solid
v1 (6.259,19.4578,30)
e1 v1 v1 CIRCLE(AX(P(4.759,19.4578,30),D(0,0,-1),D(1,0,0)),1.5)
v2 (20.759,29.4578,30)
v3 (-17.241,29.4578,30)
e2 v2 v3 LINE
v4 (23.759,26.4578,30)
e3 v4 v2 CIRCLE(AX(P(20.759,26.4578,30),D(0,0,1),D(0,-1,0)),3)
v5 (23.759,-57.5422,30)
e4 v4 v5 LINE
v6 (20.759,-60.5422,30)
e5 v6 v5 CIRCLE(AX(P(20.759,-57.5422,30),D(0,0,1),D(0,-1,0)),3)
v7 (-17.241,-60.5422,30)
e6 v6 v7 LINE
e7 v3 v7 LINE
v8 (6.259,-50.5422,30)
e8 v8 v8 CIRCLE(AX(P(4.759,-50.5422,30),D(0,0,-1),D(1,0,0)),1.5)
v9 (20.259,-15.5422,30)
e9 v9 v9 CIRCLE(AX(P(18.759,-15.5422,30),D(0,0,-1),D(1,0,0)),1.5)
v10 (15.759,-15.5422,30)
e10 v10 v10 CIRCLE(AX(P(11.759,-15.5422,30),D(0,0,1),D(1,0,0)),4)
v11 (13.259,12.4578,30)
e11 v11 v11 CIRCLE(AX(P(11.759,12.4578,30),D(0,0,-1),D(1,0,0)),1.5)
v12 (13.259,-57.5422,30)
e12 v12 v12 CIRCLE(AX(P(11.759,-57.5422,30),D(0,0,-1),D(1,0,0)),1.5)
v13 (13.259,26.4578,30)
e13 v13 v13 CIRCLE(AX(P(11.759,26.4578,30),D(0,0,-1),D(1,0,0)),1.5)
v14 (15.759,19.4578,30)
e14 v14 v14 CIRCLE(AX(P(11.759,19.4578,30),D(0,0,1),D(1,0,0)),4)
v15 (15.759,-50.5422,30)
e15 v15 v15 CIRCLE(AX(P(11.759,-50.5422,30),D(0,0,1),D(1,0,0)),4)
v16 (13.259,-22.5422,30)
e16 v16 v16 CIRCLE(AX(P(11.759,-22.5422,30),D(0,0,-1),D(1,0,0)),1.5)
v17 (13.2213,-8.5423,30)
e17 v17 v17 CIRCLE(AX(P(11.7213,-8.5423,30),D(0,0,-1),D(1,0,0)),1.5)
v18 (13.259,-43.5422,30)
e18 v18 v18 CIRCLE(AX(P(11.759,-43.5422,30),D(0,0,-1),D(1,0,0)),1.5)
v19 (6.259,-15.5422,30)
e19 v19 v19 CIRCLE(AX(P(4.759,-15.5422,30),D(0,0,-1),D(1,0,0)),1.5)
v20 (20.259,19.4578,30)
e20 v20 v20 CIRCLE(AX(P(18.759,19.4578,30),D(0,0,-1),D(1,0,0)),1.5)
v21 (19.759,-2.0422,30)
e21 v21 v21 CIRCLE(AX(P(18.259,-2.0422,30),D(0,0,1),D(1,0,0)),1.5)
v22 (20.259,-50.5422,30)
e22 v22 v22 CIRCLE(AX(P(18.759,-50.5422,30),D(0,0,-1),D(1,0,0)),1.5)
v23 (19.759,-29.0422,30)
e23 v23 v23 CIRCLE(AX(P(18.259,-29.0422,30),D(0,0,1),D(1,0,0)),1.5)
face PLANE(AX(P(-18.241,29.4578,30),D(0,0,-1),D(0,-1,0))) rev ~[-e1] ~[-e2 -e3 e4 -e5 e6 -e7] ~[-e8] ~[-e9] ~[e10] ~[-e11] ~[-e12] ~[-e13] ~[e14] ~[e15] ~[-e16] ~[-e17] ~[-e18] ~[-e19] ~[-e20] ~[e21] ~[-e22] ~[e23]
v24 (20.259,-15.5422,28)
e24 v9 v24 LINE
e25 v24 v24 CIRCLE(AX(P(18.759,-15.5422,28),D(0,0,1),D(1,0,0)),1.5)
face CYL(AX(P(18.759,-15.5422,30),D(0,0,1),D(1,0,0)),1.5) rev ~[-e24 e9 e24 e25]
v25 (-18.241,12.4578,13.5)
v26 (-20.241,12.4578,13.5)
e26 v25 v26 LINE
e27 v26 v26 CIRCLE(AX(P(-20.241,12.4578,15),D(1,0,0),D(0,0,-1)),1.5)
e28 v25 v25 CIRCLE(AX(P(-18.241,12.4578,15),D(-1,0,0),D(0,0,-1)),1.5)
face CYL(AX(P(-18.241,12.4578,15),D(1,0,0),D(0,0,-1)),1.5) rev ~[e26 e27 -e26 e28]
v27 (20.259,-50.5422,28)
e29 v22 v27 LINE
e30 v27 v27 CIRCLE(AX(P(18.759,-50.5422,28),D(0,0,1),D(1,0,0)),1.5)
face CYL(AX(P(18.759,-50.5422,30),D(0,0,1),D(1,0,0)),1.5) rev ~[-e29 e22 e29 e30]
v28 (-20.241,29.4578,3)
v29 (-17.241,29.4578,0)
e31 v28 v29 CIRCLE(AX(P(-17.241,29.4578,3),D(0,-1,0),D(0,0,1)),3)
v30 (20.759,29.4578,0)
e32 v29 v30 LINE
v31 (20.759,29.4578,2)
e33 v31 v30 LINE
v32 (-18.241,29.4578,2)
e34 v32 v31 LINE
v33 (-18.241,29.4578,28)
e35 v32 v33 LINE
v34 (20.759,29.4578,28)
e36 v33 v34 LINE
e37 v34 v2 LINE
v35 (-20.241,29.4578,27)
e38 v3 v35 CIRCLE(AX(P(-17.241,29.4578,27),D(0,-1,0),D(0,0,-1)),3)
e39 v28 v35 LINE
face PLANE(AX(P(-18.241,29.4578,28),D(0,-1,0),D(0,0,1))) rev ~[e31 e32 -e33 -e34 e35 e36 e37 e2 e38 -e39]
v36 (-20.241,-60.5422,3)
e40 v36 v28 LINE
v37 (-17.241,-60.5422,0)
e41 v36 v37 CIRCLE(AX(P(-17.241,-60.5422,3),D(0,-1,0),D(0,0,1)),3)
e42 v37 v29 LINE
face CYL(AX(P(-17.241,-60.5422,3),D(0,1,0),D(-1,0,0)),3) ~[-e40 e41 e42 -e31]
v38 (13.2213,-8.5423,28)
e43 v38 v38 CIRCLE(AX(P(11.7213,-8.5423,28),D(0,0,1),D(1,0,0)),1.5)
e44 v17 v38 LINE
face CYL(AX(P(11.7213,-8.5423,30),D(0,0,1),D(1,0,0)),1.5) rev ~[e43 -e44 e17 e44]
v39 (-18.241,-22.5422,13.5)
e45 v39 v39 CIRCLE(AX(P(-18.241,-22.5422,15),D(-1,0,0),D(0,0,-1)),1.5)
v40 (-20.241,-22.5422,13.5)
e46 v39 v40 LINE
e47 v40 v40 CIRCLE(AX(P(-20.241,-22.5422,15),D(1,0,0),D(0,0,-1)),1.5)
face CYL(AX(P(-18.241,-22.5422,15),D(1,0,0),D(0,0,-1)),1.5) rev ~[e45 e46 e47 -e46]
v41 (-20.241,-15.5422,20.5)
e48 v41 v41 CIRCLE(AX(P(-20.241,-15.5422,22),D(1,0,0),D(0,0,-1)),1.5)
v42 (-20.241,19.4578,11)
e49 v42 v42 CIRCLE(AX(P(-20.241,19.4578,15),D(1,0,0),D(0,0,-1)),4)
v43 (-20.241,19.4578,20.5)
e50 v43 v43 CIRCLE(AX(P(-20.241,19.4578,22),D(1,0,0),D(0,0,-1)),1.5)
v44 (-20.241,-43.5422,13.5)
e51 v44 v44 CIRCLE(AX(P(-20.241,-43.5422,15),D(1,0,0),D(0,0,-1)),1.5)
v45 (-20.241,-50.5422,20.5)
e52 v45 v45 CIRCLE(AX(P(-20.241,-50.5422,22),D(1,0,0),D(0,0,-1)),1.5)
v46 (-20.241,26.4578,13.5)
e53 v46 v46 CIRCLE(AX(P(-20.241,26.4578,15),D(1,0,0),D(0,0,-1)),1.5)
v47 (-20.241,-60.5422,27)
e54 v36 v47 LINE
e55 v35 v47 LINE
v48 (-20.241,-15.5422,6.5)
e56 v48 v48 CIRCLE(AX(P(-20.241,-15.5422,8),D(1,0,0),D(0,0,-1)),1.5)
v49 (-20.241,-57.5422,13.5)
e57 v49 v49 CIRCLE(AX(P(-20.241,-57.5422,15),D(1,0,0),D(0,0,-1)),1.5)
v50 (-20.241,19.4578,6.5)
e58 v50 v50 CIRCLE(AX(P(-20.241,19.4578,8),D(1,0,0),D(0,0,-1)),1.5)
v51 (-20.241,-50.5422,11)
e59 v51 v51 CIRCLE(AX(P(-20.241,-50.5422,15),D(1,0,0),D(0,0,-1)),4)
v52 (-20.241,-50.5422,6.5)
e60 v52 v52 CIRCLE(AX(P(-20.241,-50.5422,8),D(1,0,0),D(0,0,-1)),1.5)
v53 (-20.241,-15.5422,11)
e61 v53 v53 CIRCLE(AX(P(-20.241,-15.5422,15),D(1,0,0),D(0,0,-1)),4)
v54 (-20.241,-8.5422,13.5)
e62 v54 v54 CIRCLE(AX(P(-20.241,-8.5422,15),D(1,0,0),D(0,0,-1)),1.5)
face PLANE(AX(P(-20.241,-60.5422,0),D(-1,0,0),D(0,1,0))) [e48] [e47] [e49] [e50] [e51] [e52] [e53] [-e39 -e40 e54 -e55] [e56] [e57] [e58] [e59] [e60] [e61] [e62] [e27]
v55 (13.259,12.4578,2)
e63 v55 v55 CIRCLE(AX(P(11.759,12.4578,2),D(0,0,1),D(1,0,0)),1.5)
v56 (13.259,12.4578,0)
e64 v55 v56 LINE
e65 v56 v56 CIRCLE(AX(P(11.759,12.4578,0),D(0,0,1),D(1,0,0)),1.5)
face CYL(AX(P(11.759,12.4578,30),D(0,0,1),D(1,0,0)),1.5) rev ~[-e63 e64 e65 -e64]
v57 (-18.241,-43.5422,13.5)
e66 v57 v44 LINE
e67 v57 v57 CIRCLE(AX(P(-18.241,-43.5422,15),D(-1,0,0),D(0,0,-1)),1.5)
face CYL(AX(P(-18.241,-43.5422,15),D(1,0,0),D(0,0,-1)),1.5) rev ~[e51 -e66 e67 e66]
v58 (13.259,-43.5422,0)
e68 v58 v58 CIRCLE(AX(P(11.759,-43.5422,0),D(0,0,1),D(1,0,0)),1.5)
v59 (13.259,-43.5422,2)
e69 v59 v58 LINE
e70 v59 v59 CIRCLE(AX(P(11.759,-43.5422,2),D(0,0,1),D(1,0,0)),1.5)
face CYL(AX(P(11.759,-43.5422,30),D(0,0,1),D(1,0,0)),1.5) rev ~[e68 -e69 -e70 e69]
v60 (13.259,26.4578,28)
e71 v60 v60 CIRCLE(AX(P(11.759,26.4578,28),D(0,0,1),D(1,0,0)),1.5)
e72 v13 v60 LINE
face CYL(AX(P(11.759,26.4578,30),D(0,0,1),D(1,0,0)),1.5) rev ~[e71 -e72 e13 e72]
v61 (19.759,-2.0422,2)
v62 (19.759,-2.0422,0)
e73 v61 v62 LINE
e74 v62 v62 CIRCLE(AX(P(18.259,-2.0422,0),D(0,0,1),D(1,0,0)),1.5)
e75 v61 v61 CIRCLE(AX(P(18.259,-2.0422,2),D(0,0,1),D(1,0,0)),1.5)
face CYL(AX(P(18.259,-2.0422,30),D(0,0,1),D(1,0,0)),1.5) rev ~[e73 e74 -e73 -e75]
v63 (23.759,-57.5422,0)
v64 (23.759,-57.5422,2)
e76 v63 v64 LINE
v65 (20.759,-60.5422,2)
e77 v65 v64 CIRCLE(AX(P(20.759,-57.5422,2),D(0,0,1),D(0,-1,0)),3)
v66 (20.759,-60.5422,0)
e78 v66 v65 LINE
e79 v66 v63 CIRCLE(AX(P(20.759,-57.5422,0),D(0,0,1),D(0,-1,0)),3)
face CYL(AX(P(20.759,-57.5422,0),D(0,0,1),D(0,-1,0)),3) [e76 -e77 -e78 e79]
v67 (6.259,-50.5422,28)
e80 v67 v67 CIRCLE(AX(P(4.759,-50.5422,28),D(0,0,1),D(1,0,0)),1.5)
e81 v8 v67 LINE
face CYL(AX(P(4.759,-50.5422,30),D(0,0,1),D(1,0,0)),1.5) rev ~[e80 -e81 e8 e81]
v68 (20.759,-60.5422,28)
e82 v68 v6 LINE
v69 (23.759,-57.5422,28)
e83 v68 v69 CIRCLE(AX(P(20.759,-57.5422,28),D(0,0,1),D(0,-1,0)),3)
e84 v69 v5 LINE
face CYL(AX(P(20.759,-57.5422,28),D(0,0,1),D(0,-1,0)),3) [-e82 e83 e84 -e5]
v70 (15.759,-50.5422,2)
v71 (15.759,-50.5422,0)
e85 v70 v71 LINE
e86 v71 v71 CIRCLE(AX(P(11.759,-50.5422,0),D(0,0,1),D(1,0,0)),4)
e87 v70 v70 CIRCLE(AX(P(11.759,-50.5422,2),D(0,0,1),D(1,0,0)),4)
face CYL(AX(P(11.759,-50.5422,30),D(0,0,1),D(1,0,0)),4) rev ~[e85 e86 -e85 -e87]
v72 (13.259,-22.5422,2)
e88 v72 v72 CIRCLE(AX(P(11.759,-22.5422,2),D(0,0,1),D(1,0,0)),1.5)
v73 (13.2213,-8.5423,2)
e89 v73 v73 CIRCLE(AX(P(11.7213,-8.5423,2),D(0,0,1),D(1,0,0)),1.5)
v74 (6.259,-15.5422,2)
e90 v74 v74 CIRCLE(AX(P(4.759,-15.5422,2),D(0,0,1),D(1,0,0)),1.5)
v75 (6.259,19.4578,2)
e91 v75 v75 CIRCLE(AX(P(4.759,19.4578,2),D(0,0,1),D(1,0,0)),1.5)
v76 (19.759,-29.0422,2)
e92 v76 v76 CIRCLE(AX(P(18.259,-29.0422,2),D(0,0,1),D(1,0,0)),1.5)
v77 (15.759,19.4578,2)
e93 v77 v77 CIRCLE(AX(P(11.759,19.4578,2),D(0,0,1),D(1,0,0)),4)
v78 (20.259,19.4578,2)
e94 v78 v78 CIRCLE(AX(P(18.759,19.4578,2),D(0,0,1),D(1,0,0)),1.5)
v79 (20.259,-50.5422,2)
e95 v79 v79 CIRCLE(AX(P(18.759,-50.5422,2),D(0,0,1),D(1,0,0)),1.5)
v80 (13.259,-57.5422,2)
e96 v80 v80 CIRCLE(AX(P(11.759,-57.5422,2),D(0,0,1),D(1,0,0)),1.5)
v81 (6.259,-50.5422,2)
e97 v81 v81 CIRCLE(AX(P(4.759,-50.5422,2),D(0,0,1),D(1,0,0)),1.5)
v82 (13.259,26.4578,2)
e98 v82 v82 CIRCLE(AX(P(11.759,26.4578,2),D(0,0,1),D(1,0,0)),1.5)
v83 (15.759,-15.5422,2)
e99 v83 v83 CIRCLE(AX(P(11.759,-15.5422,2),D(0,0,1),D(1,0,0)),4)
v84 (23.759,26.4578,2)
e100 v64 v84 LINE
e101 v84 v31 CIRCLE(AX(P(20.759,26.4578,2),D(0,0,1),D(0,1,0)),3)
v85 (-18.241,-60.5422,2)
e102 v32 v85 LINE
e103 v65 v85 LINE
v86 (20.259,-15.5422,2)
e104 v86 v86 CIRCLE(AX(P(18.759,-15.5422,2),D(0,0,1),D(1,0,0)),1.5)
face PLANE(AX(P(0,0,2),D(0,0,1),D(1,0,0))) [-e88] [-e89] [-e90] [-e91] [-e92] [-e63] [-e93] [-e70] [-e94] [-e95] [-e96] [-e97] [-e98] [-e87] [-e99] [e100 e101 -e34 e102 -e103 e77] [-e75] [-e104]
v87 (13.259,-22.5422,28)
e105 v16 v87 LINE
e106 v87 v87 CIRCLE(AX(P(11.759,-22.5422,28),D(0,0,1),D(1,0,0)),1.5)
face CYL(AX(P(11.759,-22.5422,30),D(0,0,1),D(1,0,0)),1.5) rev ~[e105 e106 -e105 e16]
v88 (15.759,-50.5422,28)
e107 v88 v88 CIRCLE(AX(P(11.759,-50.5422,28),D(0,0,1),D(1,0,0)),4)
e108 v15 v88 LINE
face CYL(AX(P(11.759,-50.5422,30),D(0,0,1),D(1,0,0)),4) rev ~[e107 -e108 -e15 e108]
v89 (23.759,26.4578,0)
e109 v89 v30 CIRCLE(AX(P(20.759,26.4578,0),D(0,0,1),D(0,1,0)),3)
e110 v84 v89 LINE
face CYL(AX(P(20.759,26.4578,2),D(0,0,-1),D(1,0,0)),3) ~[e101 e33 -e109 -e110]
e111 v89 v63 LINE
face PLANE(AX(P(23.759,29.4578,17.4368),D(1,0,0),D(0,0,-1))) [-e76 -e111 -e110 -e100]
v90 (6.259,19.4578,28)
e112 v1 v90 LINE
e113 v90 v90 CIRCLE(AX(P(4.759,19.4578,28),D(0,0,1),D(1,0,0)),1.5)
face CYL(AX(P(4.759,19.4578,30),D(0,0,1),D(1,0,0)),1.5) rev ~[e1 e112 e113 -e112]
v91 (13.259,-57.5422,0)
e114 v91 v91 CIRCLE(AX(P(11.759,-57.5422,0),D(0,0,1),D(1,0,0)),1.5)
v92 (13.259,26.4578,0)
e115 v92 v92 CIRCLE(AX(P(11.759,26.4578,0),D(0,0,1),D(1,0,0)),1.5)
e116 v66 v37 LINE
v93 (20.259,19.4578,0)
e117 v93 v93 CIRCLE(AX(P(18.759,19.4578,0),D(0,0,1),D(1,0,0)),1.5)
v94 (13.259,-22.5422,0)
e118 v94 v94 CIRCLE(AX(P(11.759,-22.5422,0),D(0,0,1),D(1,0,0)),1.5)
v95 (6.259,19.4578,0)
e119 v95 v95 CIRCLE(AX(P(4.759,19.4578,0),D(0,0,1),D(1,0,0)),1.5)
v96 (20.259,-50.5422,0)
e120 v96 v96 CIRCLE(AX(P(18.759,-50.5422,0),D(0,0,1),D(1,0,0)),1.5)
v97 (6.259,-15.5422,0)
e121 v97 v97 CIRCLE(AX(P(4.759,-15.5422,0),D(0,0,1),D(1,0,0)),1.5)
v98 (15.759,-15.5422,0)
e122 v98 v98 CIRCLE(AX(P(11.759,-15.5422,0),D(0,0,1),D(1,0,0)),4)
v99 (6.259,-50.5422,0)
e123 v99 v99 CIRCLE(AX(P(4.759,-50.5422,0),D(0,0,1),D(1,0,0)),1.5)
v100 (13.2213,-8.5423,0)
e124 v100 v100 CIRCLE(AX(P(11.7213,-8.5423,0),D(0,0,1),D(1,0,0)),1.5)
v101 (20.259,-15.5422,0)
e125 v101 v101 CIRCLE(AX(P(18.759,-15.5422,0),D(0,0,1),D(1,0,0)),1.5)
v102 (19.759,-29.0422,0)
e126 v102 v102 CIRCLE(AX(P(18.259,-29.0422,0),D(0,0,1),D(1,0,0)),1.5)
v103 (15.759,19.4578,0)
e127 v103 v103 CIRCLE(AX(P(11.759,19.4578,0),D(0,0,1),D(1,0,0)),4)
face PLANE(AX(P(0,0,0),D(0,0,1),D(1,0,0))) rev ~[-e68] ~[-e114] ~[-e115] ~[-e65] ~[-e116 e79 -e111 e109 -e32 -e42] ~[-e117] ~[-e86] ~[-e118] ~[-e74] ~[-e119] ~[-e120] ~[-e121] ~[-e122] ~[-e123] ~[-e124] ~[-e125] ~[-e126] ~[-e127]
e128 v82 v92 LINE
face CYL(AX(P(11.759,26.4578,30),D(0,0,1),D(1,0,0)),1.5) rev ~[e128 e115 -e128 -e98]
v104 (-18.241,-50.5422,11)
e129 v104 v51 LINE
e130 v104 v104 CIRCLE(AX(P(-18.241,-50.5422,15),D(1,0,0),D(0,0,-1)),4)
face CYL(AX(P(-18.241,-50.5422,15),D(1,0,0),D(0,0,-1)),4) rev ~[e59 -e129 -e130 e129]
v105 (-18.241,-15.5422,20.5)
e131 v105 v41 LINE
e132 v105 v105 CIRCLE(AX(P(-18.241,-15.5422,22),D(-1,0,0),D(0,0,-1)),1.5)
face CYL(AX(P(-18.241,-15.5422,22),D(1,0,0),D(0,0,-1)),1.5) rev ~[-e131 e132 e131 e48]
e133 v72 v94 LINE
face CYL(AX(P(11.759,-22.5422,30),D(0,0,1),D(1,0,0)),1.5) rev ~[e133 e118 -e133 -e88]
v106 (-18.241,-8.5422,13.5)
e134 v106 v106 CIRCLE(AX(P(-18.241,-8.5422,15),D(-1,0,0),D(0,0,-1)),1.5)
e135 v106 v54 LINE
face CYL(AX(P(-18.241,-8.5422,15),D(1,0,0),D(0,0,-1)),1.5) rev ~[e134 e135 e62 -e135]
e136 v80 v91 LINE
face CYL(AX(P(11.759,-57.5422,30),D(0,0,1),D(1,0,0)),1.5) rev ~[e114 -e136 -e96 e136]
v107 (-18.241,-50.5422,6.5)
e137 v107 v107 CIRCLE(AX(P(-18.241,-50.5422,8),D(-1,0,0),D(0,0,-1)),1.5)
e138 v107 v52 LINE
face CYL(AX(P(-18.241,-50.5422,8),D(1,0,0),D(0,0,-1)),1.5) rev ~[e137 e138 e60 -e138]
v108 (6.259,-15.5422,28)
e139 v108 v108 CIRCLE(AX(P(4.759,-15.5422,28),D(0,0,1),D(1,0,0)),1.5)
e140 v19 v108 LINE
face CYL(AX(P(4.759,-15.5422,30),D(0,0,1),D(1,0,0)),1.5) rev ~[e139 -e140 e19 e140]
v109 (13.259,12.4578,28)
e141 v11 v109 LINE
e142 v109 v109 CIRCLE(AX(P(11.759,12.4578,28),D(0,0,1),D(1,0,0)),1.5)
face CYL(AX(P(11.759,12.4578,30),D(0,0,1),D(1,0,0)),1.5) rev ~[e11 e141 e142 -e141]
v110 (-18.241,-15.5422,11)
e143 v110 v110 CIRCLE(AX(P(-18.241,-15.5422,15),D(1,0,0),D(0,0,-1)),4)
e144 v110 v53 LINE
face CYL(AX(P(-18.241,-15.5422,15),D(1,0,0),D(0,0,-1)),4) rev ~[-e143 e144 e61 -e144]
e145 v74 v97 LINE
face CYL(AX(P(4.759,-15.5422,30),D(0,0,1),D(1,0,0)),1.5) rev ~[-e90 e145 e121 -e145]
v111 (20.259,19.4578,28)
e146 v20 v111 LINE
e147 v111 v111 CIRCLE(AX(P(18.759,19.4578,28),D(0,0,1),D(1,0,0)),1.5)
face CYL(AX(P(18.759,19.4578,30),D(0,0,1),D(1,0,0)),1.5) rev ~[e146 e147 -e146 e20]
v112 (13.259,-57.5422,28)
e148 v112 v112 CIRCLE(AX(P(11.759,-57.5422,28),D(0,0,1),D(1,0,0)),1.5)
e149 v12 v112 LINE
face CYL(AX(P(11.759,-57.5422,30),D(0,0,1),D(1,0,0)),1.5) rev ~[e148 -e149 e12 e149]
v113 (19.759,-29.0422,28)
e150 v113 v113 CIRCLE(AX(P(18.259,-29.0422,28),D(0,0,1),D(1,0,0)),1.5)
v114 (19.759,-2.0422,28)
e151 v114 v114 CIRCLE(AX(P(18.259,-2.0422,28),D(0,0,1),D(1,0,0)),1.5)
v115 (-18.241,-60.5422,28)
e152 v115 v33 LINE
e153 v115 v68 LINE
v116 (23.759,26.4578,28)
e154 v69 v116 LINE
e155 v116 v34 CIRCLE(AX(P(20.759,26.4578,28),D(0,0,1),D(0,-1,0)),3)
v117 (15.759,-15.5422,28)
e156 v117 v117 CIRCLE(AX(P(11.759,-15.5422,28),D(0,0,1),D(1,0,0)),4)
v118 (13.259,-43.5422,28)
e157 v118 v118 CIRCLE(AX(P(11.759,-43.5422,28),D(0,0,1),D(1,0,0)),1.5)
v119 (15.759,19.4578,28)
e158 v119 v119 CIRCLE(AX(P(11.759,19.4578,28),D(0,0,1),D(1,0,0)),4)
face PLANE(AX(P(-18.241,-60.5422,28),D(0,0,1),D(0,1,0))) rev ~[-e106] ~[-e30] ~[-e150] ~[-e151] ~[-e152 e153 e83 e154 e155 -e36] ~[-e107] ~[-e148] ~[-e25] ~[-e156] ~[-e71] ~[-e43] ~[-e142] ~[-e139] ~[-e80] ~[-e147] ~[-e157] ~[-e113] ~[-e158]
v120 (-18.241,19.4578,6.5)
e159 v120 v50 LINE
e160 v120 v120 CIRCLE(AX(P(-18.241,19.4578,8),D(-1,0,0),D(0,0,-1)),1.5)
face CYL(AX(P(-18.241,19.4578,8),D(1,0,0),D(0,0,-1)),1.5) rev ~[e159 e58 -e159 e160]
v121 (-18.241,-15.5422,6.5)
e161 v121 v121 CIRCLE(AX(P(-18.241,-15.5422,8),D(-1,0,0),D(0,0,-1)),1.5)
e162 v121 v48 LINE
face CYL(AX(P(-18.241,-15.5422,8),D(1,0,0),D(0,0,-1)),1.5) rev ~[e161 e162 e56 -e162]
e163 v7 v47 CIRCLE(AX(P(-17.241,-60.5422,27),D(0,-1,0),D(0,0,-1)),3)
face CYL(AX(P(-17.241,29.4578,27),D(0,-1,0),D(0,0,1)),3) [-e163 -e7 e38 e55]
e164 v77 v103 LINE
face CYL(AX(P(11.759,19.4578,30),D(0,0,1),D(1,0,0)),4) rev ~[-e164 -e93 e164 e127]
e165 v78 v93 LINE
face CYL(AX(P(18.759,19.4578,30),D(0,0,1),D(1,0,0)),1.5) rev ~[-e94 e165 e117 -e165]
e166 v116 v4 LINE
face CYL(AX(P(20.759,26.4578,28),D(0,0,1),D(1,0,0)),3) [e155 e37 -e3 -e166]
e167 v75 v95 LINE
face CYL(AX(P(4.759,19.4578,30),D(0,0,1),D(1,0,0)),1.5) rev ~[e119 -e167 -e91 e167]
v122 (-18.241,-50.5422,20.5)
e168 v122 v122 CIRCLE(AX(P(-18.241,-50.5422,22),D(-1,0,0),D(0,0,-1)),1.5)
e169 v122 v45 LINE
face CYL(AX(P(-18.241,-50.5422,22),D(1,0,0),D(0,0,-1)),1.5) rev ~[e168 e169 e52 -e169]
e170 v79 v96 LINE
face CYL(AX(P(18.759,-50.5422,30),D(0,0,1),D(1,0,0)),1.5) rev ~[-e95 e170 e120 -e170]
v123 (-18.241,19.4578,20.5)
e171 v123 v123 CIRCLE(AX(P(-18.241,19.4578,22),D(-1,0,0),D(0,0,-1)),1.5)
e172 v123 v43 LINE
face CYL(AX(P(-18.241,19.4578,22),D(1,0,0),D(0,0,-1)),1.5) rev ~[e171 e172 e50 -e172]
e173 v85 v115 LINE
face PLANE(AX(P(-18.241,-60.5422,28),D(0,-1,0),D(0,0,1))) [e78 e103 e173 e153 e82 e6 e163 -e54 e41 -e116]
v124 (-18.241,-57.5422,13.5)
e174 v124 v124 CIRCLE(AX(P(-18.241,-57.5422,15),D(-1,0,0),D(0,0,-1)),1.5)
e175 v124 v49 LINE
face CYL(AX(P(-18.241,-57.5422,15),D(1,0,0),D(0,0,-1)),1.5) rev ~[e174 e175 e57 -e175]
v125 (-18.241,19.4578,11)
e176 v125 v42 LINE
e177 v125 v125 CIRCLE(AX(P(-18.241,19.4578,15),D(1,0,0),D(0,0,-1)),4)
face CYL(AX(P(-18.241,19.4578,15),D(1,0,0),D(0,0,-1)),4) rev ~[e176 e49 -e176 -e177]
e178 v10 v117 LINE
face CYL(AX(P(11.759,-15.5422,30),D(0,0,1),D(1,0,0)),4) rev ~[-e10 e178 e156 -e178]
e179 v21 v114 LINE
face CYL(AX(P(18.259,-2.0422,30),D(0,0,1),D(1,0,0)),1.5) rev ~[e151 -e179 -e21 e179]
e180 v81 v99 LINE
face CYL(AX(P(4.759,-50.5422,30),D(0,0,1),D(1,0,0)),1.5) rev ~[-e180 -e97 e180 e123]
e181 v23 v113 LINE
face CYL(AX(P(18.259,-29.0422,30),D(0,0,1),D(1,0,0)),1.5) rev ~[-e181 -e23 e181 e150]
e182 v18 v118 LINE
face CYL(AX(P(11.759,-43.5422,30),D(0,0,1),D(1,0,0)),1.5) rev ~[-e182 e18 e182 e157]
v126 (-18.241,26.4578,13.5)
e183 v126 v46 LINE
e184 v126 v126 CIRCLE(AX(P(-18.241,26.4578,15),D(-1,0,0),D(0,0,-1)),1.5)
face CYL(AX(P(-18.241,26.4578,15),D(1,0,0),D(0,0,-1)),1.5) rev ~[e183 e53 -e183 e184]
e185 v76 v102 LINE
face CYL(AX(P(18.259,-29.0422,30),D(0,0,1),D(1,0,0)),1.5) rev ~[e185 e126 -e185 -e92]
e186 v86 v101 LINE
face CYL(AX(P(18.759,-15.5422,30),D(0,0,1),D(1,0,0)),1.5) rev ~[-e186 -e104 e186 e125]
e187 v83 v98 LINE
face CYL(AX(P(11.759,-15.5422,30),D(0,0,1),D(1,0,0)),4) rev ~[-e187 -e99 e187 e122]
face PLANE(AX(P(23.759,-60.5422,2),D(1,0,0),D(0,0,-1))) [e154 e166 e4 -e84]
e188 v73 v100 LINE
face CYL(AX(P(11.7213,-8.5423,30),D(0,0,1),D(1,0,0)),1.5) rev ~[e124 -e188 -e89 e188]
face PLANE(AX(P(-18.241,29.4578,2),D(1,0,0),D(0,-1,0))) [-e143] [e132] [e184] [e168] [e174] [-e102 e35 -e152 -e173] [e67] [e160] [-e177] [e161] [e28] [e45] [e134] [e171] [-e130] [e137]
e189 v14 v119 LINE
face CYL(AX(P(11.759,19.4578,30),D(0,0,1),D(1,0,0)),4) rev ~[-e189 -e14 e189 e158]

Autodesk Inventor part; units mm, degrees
ref_plane "YZ Plane" through (0, 0, 0) normal (1, 0, 0) x (0, 1, 0)
ref_plane "XZ Plane" through (0, 0, 0) normal (0, 1, 0) x (-1, 0, 0)
ref_plane "XY Plane" through (0, 0, 0) normal (0, 0, 1) x (1, 0, 0)
sketch "Эскиз1" plane through (0, 0, 0) normal (0, 0, 1) x (1, 0, 0)
  line L0 (-20.241, 29.4578) -> (24.759, 29.4578)
  line L1 (24.759, 29.4578) -> (24.759, -60.5422)
  line L2 (24.759, -60.5422) -> (-20.241, -60.5422)
  line L3 (-20.241, -60.5422) -> (-20.241, 29.4578)
  point P0 (0, 0)
  dimension "d0" = 90
  dimension "d1" = 45
extrude "Выдавливание1" add sketch "Эскиз1" along normal blind 2
sketch "Эскиз2" plane through (0, 0, 2) normal (0, 0, 1) x (1, 0, 0)
  line L0 (-20.241, 29.4578) -> (-20.241, -60.5422) projected
  line L1 (-20.241, -60.5422) -> (24.759, -60.5422) projected
  line L2 (-20.241, 29.4578) -> (-18.241, 29.4578)
  line L3 (-18.241, 29.4578) -> (-18.241, -60.5422)
  line L4 (-18.241, -60.5422) -> (-20.241, -60.5422)
  line L5 (-20.241, -60.5422) -> (-20.241, 29.4578)
  point P0 (0, 0)
  dimension "d4" = 2
extrude "Выдавливание2" add sketch "Эскиз2" along normal blind 28
sketch "Эскиз4" plane through (-20.241, 29.4578, 0) normal (0, 1, 0) x (1, 0, 0)
  line L0 (59.015, -17.4368) -> (44, -17.4368)
  line L1 (44, -17.4368) -> (44, 13.0776)
  line L2 (44, 13.0776) -> (59.015, 13.0776)
  line L3 (59.015, 13.0776) -> (59.015, -17.4368)
  line L4 (0, 0) -> (45, 0) projected
  point P0 (20.241, 0)
  point P1 (44, 0)
  point P2 (44, 0)
  point P3 (0, 0)
  dimension "d10" = 0
  dimension "d11" = 44
extrude "Выдавливание4" cut sketch "Эскиз4" against normal blind 1000
sketch "Эскиз5" plane through (-18.241, -60.5422, 2) normal (1, 0, 0) x (0, 0, -1)
  line L0 (2, 0) -> (-28, 0) projected
  line L1 (0, 90) -> (-28, 90) projected
  line L2 (-28, 0) -> (-26, 0)
  line L3 (-26, 0) -> (-26, 90)
  line L4 (-26, 90) -> (-28, 90)
  line L5 (-28, 90) -> (-28, 0)
  point P0 (2, 60.5422)
  point P1 (-26, 0)
  dimension "d14" = 2
extrude "Выдавливание5" add sketch "Эскиз5" along normal blind 42
sketch "Эскиз6" plane through (-18.241, -60.5422, 2) normal (1, 0, 0) x (0, 0, -1)
  circle A0 centre (-13, 80) radius 4
  line L0 (0, 90) -> (-26, 90) projected
  circle A1 centre (-13, 87) radius 1.5
  circle A2 centre (-20, 80) radius 1.5
  circle A3 centre (-13, 73) radius 1.5
  circle A4 centre (-6, 80) radius 1.5
  circle A5 centre (-13, 80) radius 7
  circle A6 centre (-13, 45) radius 4
  circle A7 centre (-20, 45) radius 1.5
  circle A8 centre (-13, 38) radius 1.5
  circle A9 centre (-6, 45) radius 1.5
  circle A10 centre (-13, 45) radius 7
  circle A11 centre (-13, 10) radius 4
  circle A12 centre (-20, 10) radius 1.5
  circle A13 centre (-13, 3) radius 1.5
  circle A14 centre (-6, 10) radius 1.5
  circle A15 centre (-13, 10) radius 7
  circle A16 centre (-13, 52) radius 1.5
  circle A17 centre (-13, 17) radius 1.5
  line L1 (2, 0) -> (-28, 0) projected
  line L2 (2, 90) -> (2, 0) projected
  point P0 (2, 60.5422)
  point P1 (-13, 90)
  point P2 (-13, 0)
  dimension "d17" = 8
  dimension "d19" = 0
  dimension "d21" = 14
  dimension "d22" = 3
  dimension "d23" = 3
  dimension "d24" = 3
  dimension "d25" = 3
  dimension "d26" = 0
  dimension "d27" = 0
  dimension "d28" = 7
  dimension "d29" = 7
  dimension "d30" = 0
  dimension "d31" = 7
  dimension "d32" = 0
  dimension "d33" = 7
  dimension "d34" = 8
  dimension "d35" = 14
  dimension "d36" = 3
  dimension "d37" = 3
  dimension "d38" = 3
  dimension "d39" = 0
  dimension "d40" = 0
  dimension "d41" = 7
  dimension "d42" = 7
  dimension "d43" = 0
  dimension "d44" = 7
  dimension "d45" = 0
  dimension "d46" = 7
  dimension "d47" = 8
  dimension "d48" = 14
  dimension "d49" = 3
  dimension "d50" = 3
  dimension "d51" = 3
  dimension "d52" = 0
  dimension "d53" = 0
  dimension "d54" = 7
  dimension "d55" = 7
  dimension "d56" = 0
  dimension "d57" = 7
  dimension "d58" = 0
  dimension "d59" = 7
  dimension "d60" = 3
  dimension "d61" = 3
  dimension "d65" = 17
  dimension "d67" = 10
  dimension "d68" = 21
  dimension "d69" = 15
  dimension "d70" = 15
extrude "Выдавливание6" cut sketch "Эскиз6" against normal blind 5 contours A0 | A1 A5 | A5 A1 | A5 A2 | A2 A5 | A5 A4 | A4 A5 | A5 A3 | A3 A5 | A6 | A7 A10 | A10 A7 | A16 A10 | A10 A16 | A10 A8 | A8 A10 | A10 A9 | A9 A10 | A11 | A12 A15 | A15 A12 | A17 A15 | A15 A17 | A15 A13 | A13 A15 | A15 A14 | A14 A15
sketch "Эскиз7" plane through (0, 0, 30) normal (0, 0, 1) x (1, 0, 0)
  circle A0 centre (11.759, 19.4578) radius 4
  circle A1 centre (11.759, 19.4578) radius 7
  circle A2 centre (4.759, 19.4578) radius 1.5
  circle A3 centre (11.759, 12.4578) radius 1.5
  circle A4 centre (18.759, 19.4578) radius 1.5
  circle A5 centre (11.759, 26.4578) radius 1.5
  line L0 (23.759, 29.4578) -> (23.759, -60.5422) projected
  line L1 (23.759, 29.4578) -> (-18.241, 29.4578) projected
  circle A6 centre (11.759, -15.5422) radius 4
  circle A7 centre (11.759, -15.5422) radius 7
  circle A8 centre (11.759, -22.5422) radius 1.5
  circle A9 centre (18.759, -15.5422) radius 1.5
  circle A10 centre (11.7213, -8.5423) radius 1.5
  circle A11 centre (11.759, -50.5422) radius 4
  circle A12 centre (11.759, -50.5422) radius 7
  circle A13 centre (11.759, -57.5422) radius 1.5
  circle A14 centre (18.759, -50.5422) radius 1.5
  circle A15 centre (11.759, -43.5422) radius 1.5
  line L2 (-20.241, -60.5422) -> (23.759, -60.5422) projected
  circle A16 centre (4.759, -15.5422) radius 1.5
  circle A17 centre (4.759, -50.5422) radius 1.5
  point P0 (0, 0)
  point P1 (23.759, 19.4578)
  point P2 (11.759, 29.4578)
  dimension "d73" = 8
  dimension "d74" = 14
  dimension "d75" = 3
  dimension "d76" = 3
  dimension "d77" = 3
  dimension "d78" = 3
  dimension "d80" = 0
  dimension "d81" = 12
  dimension "d82" = 0
  dimension "d83" = 0
  dimension "d84" = 7
  dimension "d85" = 0
  dimension "d86" = 7
  dimension "d87" = 7
  dimension "d88" = 8
  dimension "d89" = 14
  dimension "d91" = 3
  dimension "d92" = 3
  dimension "d93" = 3
  dimension "d94" = 0
  dimension "d95" = 7
  dimension "d96" = 0
  dimension "d97" = 7
  dimension "d98" = 7
  dimension "d99" = 8
  dimension "d100" = 14
  dimension "d102" = 3
  dimension "d103" = 3
  dimension "d104" = 3
  dimension "d105" = 0
  dimension "d106" = 7
  dimension "d107" = 0
  dimension "d108" = 7
  dimension "d109" = 7
  dimension "d110" = 0
  dimension "d111" = 0
  dimension "d112" = 0
  dimension "d114" = 35
  dimension "d115" = 35
  dimension "d116" = 3
  dimension "d117" = 3
  dimension "d118" = 3
extrude "Выдавливание7" cut sketch "Эскиз7" against normal blind 100 contours A0 | A1 A4 | A1 A4 | A5 A1 | A1 A5 | A3 A1 | A1 A3 | A2 A1 | A1 A2 | A6 | A7 A9 | A7 A9 | A10 A7 | A7 A10 | A8 A7 | A7 A8 | A16 A7 | A7 A16 | A11 | A12 A14 | A12 A14 | A15 A12 | A12 A15 | A13 A12 | A12 A13 | A17 A12 | A12 A17
sketch "Эскиз8" plane through (0, 0, 30) normal (0, 0, 1) x (1, 0, 0)
  circle A0 centre (18.259, -2.0422) radius 1.5
  circle A1 centre (18.259, -29.0422) radius 1.5
  line L0 (-20.241, 29.4578) -> (23.759, 29.4578) projected
  line L1 (23.759, 29.4578) -> (23.759, -60.5422) projected
  point P0 (0, 0)
  dimension "d121" = 3
  dimension "d122" = 3
  dimension "d123" = 31.5
  dimension "d124" = 5.5
  dimension "d125" = 0
  dimension "d126" = 27
extrude "Выдавливание8" cut sketch "Эскиз8" against normal blind 100
fillet "Сопряжение1" radius 3 6 edges at (-20.241, -15.5422, 30) (23.759, 29.4578, 29) (23.759, 29.4578, 1) (23.759, -60.5422, 29) (23.759, -60.5422, 1) (-20.241, -15.5422, 0)
properties part number "основа" material "Сталь"
